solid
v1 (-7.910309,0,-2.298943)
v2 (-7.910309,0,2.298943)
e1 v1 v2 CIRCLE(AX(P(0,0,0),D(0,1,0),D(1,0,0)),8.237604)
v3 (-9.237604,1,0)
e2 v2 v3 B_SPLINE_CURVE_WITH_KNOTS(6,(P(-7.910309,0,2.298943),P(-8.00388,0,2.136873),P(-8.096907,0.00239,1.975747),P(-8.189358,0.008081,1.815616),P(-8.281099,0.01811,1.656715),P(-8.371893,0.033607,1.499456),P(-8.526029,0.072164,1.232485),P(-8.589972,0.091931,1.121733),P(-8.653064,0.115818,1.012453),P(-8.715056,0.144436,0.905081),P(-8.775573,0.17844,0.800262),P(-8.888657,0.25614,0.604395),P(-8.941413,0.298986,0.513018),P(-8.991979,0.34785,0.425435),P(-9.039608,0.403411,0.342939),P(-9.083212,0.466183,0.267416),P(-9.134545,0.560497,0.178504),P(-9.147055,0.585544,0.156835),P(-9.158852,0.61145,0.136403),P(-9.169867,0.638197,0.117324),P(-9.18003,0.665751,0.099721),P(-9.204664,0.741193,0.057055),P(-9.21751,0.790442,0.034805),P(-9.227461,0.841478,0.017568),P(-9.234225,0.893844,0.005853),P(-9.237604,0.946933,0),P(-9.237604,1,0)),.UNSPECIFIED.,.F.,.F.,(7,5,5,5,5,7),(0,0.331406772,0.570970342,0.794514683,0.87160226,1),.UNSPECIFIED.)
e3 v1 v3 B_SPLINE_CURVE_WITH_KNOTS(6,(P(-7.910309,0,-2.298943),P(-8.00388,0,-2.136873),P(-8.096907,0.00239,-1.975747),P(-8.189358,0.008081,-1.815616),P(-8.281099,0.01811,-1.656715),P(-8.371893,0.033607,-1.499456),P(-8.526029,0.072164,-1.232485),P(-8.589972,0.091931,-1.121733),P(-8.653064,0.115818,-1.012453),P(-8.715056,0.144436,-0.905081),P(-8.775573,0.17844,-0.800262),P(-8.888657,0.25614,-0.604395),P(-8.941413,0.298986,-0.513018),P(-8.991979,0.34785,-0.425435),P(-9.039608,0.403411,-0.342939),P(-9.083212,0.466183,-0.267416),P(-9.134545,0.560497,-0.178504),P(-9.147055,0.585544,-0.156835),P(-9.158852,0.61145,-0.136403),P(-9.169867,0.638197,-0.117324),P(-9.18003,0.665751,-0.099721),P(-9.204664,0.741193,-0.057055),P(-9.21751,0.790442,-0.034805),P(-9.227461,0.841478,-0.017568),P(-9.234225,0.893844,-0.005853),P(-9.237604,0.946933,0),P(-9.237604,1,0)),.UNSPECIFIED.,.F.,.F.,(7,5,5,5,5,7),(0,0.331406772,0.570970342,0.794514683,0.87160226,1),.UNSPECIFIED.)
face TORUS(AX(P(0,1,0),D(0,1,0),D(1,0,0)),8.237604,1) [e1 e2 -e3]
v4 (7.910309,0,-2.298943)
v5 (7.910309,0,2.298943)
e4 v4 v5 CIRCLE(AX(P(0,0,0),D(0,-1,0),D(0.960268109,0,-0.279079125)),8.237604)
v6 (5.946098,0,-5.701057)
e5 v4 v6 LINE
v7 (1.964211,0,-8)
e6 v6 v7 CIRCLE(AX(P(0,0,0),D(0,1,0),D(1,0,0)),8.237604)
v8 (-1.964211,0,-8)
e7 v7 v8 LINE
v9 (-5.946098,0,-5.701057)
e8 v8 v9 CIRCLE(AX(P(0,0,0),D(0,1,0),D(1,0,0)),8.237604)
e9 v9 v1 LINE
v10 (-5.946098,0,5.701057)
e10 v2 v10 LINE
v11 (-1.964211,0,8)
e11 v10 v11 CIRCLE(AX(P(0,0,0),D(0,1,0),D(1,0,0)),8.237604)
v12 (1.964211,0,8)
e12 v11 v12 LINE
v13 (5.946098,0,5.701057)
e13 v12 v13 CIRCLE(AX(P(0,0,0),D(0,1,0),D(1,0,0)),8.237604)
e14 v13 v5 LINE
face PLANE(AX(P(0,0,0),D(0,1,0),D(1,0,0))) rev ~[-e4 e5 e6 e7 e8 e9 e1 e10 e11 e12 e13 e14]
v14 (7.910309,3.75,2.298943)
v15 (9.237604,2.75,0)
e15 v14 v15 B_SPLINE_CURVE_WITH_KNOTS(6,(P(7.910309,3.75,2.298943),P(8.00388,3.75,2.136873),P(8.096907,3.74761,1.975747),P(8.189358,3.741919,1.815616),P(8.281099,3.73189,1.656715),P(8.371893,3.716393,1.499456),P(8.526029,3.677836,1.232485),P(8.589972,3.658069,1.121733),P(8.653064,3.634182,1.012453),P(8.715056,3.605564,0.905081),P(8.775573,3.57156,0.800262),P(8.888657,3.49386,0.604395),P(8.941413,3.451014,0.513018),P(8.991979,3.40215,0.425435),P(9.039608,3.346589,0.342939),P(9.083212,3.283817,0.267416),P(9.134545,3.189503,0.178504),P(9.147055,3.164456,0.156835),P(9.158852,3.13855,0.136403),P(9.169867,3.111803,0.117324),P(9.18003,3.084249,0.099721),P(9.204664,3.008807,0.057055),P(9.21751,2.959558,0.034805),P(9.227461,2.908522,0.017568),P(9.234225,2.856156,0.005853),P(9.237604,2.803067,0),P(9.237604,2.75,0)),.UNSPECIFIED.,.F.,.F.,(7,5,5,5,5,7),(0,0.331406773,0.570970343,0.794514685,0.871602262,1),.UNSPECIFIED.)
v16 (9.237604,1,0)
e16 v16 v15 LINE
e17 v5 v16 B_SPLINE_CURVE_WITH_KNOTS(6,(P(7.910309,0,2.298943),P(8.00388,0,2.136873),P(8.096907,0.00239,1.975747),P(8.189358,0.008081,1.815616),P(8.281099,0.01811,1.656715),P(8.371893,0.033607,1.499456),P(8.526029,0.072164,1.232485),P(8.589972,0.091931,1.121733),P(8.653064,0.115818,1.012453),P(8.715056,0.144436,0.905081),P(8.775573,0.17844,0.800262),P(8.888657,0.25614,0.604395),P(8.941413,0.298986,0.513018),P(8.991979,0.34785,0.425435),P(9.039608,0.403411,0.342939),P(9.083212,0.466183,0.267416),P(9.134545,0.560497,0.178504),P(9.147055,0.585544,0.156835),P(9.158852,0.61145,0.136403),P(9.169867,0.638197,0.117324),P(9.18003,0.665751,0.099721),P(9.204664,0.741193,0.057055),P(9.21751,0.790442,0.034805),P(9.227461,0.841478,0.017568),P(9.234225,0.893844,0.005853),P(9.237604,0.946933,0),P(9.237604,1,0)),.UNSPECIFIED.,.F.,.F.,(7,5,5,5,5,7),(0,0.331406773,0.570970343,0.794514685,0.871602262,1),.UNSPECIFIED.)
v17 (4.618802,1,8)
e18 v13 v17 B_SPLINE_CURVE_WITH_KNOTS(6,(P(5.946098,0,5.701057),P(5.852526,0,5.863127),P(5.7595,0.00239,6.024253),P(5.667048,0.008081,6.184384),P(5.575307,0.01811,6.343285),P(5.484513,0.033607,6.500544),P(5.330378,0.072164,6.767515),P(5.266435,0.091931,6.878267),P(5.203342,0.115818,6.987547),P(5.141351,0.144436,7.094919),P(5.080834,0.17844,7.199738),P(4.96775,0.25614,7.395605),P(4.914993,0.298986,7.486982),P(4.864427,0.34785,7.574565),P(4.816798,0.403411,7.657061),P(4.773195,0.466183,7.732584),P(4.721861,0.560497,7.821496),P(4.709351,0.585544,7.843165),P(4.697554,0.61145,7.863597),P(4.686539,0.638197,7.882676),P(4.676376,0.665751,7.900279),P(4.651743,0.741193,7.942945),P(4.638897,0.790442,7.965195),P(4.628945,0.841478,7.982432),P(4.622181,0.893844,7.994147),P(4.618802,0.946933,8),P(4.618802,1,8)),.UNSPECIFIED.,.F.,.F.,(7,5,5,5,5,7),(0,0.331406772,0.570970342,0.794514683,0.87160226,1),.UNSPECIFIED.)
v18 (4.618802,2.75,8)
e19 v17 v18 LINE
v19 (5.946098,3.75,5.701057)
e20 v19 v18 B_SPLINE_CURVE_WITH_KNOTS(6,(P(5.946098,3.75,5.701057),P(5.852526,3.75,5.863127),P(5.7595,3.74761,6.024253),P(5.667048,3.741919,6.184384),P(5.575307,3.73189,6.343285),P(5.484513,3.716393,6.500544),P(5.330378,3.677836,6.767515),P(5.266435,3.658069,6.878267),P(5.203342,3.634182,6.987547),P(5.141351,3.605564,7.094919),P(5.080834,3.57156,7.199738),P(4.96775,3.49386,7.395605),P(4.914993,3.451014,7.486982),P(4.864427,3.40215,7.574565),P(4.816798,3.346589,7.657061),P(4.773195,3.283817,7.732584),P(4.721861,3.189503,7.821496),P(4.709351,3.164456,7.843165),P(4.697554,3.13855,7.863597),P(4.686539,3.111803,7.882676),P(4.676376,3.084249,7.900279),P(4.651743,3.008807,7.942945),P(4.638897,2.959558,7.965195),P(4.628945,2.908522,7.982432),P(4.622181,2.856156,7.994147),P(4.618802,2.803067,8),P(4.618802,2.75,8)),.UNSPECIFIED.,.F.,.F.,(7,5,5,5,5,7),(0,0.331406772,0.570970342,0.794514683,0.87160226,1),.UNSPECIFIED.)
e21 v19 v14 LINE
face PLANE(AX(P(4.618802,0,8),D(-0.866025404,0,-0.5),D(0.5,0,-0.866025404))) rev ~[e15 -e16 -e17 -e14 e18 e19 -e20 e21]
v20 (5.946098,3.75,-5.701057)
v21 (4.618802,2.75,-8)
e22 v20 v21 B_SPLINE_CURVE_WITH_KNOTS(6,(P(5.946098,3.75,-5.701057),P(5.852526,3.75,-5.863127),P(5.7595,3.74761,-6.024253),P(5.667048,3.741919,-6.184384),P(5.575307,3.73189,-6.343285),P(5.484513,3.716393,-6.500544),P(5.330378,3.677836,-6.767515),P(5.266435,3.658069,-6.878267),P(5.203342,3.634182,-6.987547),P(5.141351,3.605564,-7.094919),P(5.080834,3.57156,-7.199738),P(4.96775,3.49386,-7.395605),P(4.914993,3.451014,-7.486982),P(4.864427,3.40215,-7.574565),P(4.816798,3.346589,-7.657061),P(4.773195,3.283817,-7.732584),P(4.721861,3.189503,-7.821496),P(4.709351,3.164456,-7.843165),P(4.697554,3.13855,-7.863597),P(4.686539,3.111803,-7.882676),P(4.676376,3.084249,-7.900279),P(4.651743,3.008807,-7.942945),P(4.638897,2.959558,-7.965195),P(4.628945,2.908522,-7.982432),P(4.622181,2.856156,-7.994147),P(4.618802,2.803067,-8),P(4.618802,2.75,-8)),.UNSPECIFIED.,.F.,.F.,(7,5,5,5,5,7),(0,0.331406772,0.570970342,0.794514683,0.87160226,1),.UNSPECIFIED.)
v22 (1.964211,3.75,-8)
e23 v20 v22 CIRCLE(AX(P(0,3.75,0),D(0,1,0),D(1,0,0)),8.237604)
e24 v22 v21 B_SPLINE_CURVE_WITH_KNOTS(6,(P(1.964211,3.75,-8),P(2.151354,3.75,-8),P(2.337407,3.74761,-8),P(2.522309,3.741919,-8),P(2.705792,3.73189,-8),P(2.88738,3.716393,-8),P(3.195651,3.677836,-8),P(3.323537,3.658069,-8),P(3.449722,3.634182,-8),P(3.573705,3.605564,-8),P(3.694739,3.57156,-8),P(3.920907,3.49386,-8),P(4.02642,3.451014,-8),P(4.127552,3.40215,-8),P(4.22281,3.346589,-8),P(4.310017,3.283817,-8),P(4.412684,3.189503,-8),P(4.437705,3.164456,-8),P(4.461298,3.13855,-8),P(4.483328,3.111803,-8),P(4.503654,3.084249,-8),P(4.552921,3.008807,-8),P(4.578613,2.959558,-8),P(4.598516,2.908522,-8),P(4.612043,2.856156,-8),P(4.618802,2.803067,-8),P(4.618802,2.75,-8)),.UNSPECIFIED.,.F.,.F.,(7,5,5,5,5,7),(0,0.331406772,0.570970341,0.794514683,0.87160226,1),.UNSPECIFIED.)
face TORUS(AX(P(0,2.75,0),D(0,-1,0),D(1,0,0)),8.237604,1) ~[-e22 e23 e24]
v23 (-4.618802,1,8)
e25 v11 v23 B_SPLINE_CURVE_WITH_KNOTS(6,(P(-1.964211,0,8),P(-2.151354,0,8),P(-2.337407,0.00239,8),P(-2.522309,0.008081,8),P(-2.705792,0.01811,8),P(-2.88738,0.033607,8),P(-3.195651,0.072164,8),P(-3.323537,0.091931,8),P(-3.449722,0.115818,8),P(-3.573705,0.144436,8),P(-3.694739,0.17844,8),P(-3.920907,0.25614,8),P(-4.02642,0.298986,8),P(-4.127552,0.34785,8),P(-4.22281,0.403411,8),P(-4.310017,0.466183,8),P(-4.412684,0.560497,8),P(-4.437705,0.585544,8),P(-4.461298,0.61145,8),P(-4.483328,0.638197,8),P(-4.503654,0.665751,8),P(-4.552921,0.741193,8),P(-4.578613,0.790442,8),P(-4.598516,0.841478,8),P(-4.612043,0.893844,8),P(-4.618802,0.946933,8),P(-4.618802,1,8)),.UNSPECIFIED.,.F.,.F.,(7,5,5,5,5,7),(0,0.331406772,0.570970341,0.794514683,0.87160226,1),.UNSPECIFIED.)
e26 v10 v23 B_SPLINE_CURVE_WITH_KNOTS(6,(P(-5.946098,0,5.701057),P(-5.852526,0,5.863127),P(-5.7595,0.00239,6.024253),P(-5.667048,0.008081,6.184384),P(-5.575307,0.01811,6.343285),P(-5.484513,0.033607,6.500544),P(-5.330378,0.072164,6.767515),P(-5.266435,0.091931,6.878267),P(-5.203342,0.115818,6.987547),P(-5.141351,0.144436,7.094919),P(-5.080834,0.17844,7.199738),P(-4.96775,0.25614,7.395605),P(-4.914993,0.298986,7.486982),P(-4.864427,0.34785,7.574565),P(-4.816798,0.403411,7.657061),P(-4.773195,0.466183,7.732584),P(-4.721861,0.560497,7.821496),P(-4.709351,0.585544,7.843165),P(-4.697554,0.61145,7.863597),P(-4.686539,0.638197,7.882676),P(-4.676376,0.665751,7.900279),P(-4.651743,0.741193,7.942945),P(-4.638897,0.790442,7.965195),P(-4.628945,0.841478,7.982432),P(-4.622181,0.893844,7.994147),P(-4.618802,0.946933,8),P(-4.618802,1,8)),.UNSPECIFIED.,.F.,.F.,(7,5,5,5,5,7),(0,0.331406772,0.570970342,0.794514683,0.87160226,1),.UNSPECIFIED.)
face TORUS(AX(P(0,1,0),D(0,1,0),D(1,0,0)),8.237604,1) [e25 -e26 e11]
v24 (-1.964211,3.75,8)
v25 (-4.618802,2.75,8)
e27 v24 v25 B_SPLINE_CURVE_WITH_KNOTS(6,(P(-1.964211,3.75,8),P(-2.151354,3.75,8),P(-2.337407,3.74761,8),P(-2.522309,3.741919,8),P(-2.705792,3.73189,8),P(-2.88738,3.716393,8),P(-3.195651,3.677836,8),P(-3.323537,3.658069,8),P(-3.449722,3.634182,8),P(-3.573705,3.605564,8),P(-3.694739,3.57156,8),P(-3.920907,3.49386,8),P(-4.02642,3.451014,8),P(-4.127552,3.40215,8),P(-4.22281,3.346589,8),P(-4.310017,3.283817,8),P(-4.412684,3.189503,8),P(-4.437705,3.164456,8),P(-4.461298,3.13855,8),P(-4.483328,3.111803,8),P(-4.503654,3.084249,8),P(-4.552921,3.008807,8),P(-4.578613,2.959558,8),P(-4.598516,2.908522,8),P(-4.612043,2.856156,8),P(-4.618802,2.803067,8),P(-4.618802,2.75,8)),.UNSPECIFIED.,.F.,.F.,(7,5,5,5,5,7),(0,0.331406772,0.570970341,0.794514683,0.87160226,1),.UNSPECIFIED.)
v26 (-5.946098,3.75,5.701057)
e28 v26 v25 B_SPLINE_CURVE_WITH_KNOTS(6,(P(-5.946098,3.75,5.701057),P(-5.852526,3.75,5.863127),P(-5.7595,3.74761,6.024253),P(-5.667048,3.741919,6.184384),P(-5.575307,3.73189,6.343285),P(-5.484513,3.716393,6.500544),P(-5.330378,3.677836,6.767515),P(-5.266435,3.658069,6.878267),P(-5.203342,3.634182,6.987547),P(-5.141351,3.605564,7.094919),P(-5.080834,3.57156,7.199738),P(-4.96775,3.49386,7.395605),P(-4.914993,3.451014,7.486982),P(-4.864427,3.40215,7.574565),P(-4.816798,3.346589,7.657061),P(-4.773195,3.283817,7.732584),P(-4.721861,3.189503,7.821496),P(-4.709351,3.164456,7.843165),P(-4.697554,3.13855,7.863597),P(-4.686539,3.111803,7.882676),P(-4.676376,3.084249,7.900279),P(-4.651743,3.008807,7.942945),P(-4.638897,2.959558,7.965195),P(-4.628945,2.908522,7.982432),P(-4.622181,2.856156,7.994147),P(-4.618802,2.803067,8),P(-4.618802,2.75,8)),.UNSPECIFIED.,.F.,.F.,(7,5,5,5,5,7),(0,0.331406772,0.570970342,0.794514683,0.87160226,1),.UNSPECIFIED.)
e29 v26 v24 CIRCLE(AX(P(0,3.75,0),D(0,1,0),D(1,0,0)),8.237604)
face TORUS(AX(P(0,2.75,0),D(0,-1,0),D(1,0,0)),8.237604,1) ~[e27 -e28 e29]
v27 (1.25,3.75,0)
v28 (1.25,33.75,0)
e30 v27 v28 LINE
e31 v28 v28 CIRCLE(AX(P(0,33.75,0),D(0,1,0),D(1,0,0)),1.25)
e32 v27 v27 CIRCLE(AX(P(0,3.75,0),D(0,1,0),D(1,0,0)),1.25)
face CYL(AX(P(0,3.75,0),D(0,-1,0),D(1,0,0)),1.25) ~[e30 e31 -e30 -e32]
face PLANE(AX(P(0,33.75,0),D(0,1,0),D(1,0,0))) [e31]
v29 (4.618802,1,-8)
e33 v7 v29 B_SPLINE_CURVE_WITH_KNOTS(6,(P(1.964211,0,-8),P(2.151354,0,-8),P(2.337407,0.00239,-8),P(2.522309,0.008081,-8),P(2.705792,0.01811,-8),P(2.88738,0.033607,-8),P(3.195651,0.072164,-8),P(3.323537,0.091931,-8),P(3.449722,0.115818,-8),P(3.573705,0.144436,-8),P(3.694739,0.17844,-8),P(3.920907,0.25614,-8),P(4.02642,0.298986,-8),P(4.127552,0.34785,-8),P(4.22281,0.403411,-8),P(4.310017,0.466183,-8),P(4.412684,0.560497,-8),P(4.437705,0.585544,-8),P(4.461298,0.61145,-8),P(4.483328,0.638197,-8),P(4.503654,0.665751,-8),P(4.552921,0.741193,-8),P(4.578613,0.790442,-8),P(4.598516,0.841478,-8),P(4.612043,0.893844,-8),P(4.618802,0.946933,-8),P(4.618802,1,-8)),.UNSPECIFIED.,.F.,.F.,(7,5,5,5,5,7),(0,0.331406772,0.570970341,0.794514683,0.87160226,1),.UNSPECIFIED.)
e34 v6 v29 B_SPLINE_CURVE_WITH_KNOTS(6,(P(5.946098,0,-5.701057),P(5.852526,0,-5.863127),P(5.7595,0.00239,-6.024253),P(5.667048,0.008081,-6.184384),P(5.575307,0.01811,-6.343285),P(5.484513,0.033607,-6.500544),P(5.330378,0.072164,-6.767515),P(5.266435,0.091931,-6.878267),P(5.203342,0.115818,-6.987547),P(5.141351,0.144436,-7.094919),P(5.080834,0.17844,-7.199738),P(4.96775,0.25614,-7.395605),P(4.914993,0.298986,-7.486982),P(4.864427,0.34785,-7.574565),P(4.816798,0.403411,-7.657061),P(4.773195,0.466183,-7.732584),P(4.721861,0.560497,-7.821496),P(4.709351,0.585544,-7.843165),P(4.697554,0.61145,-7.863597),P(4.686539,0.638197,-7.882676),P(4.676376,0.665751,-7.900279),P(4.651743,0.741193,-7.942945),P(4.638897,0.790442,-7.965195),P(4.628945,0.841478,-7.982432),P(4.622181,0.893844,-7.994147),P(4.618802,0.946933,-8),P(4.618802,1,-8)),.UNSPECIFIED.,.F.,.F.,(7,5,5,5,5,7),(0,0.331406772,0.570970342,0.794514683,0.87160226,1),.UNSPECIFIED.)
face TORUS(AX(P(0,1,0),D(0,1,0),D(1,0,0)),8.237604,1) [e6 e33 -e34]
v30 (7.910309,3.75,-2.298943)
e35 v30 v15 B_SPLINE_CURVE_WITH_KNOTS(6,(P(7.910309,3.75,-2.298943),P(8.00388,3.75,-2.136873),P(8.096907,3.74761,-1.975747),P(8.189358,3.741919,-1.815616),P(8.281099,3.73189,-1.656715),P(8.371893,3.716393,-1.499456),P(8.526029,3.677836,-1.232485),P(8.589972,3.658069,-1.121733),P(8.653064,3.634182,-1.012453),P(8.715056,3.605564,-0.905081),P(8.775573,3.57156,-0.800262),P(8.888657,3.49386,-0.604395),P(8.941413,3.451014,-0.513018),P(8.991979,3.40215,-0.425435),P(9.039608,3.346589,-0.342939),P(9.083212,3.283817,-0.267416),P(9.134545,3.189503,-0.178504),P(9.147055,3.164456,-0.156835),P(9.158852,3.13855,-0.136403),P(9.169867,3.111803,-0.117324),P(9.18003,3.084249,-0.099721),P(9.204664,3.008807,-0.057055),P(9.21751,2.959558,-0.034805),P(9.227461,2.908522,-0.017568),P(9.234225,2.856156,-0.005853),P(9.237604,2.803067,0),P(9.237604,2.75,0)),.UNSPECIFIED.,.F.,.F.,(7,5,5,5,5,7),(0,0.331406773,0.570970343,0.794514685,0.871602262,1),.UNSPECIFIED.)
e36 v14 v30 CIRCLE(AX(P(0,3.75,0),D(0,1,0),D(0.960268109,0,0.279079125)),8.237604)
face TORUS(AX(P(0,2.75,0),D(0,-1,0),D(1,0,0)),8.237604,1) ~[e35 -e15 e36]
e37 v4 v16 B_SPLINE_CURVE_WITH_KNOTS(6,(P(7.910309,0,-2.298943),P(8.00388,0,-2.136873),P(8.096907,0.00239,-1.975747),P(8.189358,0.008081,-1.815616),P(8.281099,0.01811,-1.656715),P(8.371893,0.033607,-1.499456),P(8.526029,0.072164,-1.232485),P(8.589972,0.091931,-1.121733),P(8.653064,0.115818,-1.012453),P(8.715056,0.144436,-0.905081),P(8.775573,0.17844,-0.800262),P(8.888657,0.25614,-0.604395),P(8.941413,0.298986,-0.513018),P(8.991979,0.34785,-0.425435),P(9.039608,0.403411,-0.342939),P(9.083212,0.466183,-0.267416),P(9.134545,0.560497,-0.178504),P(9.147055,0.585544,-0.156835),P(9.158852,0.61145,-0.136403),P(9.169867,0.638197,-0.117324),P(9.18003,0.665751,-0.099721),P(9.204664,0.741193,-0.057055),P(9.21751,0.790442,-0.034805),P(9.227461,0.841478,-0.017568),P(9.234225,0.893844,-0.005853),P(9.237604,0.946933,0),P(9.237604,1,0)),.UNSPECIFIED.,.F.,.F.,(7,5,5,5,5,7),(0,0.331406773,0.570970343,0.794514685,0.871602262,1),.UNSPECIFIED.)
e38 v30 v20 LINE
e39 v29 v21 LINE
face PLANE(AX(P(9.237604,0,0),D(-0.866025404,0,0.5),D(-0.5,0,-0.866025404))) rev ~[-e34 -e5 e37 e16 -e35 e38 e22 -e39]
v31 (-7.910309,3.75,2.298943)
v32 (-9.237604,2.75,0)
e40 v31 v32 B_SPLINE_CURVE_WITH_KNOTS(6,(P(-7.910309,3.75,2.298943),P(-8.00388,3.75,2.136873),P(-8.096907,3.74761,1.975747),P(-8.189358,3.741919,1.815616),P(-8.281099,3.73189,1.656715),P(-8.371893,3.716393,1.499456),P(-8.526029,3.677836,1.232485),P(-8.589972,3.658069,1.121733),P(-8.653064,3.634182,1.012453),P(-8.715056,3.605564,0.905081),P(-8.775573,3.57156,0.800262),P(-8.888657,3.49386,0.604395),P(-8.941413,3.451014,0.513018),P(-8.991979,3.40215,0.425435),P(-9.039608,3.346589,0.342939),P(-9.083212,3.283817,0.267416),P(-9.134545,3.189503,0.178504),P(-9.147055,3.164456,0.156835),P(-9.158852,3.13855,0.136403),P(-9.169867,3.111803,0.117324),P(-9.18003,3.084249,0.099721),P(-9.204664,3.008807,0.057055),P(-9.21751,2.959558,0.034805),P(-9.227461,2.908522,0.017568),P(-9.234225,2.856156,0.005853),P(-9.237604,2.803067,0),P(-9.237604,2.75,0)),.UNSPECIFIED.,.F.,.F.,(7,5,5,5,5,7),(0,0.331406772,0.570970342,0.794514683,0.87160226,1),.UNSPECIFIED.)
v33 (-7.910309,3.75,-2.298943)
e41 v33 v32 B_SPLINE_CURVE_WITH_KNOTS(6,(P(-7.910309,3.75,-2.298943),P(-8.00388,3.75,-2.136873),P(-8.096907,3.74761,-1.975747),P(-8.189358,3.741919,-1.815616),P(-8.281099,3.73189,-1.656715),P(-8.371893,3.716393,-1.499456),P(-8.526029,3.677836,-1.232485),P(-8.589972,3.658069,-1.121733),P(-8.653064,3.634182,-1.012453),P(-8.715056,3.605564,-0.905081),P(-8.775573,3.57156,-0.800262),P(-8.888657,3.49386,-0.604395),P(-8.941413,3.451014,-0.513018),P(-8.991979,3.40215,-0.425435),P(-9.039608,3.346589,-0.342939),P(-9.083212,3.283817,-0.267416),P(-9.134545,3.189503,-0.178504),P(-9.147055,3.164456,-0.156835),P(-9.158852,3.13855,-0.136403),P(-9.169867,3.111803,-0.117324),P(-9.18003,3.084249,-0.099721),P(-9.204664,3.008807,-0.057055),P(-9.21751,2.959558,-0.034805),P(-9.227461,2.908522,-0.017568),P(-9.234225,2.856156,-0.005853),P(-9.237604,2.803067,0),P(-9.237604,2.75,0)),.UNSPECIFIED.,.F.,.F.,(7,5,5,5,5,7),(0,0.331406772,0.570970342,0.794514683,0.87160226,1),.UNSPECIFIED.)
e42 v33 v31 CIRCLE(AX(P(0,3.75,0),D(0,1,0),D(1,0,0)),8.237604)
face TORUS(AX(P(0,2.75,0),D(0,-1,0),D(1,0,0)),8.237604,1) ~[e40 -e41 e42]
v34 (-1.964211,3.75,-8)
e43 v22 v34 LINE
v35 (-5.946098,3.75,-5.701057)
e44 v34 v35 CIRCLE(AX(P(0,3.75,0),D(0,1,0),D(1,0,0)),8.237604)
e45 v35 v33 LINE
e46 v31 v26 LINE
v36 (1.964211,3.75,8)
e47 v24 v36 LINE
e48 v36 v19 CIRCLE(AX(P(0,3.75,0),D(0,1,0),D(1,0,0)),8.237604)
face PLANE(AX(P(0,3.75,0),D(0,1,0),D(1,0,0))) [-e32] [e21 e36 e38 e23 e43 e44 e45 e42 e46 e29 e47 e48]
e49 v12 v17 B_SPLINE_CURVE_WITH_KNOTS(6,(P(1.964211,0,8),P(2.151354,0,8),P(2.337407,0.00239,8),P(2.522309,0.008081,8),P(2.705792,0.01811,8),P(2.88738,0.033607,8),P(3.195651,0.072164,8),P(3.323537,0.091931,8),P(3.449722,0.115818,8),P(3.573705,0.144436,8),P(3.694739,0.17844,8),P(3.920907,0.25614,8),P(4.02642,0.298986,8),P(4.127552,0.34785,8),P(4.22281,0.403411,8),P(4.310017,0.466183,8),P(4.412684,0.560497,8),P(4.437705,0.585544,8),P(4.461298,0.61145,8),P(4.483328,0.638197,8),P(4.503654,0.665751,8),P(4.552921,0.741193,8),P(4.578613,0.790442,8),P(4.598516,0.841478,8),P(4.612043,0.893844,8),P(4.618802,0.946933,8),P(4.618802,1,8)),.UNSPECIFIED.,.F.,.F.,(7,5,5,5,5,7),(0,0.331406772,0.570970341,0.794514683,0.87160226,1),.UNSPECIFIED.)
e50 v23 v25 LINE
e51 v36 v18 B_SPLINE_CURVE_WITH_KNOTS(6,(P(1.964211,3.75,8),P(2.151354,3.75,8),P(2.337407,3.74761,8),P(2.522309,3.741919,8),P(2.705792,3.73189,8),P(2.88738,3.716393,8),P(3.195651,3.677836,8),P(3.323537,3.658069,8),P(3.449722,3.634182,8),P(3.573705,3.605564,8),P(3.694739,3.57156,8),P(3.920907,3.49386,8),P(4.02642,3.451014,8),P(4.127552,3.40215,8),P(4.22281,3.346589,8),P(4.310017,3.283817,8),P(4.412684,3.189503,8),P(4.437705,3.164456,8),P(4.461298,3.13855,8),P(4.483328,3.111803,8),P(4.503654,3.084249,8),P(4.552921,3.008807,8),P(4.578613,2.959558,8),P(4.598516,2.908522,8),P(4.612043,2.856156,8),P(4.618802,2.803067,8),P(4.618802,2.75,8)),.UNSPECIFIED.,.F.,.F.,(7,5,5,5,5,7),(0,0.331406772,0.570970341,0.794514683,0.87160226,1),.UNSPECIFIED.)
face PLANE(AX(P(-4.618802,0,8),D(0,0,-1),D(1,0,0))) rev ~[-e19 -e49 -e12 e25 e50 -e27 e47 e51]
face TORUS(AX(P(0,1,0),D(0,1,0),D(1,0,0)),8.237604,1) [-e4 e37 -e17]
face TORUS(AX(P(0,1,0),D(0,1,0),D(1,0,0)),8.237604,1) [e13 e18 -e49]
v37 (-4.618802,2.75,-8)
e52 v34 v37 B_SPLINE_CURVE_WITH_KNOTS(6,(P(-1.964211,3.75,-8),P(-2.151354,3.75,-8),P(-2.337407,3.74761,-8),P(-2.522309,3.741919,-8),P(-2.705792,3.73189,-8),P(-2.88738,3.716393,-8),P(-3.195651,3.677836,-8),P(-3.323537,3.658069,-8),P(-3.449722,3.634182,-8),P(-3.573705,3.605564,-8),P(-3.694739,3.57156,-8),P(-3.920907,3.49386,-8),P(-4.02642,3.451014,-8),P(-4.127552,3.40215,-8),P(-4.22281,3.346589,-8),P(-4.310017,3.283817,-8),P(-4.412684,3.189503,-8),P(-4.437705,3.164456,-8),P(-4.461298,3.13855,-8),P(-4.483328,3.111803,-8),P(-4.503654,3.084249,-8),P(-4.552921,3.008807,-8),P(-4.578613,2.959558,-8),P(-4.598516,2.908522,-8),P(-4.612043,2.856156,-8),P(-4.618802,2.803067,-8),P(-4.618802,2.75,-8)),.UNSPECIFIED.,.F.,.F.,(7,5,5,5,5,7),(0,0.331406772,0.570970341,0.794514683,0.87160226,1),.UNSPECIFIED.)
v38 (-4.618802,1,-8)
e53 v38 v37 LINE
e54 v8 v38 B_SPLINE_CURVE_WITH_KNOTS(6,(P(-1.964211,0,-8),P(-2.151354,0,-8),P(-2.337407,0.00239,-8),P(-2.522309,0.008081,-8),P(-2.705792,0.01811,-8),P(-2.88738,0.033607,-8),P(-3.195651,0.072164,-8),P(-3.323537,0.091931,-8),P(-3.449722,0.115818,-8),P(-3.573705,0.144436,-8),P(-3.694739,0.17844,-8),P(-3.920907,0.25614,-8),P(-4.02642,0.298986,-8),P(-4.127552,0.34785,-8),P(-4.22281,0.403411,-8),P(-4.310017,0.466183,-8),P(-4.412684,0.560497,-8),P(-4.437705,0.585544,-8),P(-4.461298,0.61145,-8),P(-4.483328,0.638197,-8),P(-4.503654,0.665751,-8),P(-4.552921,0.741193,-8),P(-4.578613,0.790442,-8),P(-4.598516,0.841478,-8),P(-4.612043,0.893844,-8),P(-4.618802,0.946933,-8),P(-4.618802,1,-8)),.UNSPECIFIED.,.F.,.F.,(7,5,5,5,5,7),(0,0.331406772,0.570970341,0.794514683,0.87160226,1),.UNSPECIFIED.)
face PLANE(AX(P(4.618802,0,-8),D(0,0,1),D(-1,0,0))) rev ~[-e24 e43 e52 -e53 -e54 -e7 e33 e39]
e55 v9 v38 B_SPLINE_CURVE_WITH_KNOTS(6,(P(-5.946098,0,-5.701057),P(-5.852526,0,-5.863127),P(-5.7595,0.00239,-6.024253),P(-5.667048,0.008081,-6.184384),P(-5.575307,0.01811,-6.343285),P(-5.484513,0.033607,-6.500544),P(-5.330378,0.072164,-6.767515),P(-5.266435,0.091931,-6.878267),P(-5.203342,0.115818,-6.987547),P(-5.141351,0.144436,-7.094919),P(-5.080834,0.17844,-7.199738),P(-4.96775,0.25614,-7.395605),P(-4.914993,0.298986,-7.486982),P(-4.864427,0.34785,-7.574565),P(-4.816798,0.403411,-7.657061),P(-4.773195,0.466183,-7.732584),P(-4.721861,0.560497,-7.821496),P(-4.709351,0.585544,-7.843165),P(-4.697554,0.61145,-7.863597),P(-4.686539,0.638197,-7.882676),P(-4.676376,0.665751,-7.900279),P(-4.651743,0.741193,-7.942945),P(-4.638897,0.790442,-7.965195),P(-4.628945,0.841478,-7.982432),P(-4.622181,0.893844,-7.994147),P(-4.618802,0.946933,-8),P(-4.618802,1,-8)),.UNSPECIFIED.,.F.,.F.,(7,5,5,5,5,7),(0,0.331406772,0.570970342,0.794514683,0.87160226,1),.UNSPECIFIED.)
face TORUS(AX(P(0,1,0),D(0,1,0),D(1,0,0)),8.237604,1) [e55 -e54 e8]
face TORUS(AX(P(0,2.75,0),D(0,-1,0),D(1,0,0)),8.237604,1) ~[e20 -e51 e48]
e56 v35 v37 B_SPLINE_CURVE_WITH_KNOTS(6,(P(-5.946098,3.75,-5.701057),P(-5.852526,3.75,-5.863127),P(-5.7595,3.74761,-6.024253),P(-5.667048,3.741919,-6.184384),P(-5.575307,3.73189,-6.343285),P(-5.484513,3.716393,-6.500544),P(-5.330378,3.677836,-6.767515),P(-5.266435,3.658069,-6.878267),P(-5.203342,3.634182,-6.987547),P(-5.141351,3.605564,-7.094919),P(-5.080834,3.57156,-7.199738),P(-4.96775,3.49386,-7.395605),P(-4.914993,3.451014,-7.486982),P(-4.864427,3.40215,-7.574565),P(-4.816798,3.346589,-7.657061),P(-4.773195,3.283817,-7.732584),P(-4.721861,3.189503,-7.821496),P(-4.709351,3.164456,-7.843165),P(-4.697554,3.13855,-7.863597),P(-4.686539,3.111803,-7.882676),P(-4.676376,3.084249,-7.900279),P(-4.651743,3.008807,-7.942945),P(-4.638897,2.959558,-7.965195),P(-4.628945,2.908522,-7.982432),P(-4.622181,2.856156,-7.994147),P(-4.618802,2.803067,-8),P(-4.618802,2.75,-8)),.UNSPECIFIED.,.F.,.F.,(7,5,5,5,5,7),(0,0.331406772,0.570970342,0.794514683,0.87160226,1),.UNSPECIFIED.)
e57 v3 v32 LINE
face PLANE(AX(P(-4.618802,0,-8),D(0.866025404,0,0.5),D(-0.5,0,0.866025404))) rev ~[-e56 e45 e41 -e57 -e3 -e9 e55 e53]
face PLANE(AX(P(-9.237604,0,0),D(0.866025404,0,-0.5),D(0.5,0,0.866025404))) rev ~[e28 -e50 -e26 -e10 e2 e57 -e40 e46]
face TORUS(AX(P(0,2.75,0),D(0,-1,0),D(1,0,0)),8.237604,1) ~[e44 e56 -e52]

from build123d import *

# Parameters (mm, degrees)
BOSS_EXTRUDE1_DEPTH = 3.75
SKETCH4_R           = 1.25
BOSS_EXTRUDE2_DEPTH = 30


with BuildPart() as part:
    # Sketch1 → Boss-Extrude1 (new body)
    with BuildSketch(Plane(origin=(0, 0, 0), x_dir=(1, 0, 0), z_dir=(0, 1, 0))):
        Polygon((9.237604307, 0), (4.618802154, 8), (-4.618802154, 8), (-9.237604307, 0), (-4.618802154, -8), (4.618802154, -8), align=None)
    extrude(amount=BOSS_EXTRUDE1_DEPTH)

    # Sketch2 → Cut-Revolve1 (revolve, cut)
    with BuildSketch(Plane.XY):
        with BuildLine():
            Line((9.237604307, 2.75), (9.237604307, 3.75))
            Line((9.237604307, 3.75), (8.237604307, 3.75))
            ThreePointArc((8.237604307, 3.75), (8.944711088, 3.457106781), (9.237604307, 2.75))
        make_face()
    revolve(axis=Axis((0, 0, 0), (0, 1, 0)), mode=Mode.SUBTRACT)

    # Sketch3 → Cut-Revolve2 (revolve, cut)
    with BuildSketch(Plane.XY):
        with BuildLine():
            Line((9.237604307, 0), (8.237604307, 0))
            ThreePointArc((8.237604307, 0), (8.944711088, 0.292893219), (9.237604307, 1))
            Line((9.237604307, 1), (9.237604307, 0))
        make_face()
    revolve(axis=Axis((0, 0, 0), (0, 1, 0)), mode=Mode.SUBTRACT)

    # Sketch4 → Boss-Extrude2 (add)
    with BuildSketch(Plane(origin=(0, 3.75, 0), x_dir=(1, 0, 0), z_dir=(0, 1, 0))):
        Circle(SKETCH4_R)
    extrude(amount=BOSS_EXTRUDE2_DEPTH)


solid = part.part
